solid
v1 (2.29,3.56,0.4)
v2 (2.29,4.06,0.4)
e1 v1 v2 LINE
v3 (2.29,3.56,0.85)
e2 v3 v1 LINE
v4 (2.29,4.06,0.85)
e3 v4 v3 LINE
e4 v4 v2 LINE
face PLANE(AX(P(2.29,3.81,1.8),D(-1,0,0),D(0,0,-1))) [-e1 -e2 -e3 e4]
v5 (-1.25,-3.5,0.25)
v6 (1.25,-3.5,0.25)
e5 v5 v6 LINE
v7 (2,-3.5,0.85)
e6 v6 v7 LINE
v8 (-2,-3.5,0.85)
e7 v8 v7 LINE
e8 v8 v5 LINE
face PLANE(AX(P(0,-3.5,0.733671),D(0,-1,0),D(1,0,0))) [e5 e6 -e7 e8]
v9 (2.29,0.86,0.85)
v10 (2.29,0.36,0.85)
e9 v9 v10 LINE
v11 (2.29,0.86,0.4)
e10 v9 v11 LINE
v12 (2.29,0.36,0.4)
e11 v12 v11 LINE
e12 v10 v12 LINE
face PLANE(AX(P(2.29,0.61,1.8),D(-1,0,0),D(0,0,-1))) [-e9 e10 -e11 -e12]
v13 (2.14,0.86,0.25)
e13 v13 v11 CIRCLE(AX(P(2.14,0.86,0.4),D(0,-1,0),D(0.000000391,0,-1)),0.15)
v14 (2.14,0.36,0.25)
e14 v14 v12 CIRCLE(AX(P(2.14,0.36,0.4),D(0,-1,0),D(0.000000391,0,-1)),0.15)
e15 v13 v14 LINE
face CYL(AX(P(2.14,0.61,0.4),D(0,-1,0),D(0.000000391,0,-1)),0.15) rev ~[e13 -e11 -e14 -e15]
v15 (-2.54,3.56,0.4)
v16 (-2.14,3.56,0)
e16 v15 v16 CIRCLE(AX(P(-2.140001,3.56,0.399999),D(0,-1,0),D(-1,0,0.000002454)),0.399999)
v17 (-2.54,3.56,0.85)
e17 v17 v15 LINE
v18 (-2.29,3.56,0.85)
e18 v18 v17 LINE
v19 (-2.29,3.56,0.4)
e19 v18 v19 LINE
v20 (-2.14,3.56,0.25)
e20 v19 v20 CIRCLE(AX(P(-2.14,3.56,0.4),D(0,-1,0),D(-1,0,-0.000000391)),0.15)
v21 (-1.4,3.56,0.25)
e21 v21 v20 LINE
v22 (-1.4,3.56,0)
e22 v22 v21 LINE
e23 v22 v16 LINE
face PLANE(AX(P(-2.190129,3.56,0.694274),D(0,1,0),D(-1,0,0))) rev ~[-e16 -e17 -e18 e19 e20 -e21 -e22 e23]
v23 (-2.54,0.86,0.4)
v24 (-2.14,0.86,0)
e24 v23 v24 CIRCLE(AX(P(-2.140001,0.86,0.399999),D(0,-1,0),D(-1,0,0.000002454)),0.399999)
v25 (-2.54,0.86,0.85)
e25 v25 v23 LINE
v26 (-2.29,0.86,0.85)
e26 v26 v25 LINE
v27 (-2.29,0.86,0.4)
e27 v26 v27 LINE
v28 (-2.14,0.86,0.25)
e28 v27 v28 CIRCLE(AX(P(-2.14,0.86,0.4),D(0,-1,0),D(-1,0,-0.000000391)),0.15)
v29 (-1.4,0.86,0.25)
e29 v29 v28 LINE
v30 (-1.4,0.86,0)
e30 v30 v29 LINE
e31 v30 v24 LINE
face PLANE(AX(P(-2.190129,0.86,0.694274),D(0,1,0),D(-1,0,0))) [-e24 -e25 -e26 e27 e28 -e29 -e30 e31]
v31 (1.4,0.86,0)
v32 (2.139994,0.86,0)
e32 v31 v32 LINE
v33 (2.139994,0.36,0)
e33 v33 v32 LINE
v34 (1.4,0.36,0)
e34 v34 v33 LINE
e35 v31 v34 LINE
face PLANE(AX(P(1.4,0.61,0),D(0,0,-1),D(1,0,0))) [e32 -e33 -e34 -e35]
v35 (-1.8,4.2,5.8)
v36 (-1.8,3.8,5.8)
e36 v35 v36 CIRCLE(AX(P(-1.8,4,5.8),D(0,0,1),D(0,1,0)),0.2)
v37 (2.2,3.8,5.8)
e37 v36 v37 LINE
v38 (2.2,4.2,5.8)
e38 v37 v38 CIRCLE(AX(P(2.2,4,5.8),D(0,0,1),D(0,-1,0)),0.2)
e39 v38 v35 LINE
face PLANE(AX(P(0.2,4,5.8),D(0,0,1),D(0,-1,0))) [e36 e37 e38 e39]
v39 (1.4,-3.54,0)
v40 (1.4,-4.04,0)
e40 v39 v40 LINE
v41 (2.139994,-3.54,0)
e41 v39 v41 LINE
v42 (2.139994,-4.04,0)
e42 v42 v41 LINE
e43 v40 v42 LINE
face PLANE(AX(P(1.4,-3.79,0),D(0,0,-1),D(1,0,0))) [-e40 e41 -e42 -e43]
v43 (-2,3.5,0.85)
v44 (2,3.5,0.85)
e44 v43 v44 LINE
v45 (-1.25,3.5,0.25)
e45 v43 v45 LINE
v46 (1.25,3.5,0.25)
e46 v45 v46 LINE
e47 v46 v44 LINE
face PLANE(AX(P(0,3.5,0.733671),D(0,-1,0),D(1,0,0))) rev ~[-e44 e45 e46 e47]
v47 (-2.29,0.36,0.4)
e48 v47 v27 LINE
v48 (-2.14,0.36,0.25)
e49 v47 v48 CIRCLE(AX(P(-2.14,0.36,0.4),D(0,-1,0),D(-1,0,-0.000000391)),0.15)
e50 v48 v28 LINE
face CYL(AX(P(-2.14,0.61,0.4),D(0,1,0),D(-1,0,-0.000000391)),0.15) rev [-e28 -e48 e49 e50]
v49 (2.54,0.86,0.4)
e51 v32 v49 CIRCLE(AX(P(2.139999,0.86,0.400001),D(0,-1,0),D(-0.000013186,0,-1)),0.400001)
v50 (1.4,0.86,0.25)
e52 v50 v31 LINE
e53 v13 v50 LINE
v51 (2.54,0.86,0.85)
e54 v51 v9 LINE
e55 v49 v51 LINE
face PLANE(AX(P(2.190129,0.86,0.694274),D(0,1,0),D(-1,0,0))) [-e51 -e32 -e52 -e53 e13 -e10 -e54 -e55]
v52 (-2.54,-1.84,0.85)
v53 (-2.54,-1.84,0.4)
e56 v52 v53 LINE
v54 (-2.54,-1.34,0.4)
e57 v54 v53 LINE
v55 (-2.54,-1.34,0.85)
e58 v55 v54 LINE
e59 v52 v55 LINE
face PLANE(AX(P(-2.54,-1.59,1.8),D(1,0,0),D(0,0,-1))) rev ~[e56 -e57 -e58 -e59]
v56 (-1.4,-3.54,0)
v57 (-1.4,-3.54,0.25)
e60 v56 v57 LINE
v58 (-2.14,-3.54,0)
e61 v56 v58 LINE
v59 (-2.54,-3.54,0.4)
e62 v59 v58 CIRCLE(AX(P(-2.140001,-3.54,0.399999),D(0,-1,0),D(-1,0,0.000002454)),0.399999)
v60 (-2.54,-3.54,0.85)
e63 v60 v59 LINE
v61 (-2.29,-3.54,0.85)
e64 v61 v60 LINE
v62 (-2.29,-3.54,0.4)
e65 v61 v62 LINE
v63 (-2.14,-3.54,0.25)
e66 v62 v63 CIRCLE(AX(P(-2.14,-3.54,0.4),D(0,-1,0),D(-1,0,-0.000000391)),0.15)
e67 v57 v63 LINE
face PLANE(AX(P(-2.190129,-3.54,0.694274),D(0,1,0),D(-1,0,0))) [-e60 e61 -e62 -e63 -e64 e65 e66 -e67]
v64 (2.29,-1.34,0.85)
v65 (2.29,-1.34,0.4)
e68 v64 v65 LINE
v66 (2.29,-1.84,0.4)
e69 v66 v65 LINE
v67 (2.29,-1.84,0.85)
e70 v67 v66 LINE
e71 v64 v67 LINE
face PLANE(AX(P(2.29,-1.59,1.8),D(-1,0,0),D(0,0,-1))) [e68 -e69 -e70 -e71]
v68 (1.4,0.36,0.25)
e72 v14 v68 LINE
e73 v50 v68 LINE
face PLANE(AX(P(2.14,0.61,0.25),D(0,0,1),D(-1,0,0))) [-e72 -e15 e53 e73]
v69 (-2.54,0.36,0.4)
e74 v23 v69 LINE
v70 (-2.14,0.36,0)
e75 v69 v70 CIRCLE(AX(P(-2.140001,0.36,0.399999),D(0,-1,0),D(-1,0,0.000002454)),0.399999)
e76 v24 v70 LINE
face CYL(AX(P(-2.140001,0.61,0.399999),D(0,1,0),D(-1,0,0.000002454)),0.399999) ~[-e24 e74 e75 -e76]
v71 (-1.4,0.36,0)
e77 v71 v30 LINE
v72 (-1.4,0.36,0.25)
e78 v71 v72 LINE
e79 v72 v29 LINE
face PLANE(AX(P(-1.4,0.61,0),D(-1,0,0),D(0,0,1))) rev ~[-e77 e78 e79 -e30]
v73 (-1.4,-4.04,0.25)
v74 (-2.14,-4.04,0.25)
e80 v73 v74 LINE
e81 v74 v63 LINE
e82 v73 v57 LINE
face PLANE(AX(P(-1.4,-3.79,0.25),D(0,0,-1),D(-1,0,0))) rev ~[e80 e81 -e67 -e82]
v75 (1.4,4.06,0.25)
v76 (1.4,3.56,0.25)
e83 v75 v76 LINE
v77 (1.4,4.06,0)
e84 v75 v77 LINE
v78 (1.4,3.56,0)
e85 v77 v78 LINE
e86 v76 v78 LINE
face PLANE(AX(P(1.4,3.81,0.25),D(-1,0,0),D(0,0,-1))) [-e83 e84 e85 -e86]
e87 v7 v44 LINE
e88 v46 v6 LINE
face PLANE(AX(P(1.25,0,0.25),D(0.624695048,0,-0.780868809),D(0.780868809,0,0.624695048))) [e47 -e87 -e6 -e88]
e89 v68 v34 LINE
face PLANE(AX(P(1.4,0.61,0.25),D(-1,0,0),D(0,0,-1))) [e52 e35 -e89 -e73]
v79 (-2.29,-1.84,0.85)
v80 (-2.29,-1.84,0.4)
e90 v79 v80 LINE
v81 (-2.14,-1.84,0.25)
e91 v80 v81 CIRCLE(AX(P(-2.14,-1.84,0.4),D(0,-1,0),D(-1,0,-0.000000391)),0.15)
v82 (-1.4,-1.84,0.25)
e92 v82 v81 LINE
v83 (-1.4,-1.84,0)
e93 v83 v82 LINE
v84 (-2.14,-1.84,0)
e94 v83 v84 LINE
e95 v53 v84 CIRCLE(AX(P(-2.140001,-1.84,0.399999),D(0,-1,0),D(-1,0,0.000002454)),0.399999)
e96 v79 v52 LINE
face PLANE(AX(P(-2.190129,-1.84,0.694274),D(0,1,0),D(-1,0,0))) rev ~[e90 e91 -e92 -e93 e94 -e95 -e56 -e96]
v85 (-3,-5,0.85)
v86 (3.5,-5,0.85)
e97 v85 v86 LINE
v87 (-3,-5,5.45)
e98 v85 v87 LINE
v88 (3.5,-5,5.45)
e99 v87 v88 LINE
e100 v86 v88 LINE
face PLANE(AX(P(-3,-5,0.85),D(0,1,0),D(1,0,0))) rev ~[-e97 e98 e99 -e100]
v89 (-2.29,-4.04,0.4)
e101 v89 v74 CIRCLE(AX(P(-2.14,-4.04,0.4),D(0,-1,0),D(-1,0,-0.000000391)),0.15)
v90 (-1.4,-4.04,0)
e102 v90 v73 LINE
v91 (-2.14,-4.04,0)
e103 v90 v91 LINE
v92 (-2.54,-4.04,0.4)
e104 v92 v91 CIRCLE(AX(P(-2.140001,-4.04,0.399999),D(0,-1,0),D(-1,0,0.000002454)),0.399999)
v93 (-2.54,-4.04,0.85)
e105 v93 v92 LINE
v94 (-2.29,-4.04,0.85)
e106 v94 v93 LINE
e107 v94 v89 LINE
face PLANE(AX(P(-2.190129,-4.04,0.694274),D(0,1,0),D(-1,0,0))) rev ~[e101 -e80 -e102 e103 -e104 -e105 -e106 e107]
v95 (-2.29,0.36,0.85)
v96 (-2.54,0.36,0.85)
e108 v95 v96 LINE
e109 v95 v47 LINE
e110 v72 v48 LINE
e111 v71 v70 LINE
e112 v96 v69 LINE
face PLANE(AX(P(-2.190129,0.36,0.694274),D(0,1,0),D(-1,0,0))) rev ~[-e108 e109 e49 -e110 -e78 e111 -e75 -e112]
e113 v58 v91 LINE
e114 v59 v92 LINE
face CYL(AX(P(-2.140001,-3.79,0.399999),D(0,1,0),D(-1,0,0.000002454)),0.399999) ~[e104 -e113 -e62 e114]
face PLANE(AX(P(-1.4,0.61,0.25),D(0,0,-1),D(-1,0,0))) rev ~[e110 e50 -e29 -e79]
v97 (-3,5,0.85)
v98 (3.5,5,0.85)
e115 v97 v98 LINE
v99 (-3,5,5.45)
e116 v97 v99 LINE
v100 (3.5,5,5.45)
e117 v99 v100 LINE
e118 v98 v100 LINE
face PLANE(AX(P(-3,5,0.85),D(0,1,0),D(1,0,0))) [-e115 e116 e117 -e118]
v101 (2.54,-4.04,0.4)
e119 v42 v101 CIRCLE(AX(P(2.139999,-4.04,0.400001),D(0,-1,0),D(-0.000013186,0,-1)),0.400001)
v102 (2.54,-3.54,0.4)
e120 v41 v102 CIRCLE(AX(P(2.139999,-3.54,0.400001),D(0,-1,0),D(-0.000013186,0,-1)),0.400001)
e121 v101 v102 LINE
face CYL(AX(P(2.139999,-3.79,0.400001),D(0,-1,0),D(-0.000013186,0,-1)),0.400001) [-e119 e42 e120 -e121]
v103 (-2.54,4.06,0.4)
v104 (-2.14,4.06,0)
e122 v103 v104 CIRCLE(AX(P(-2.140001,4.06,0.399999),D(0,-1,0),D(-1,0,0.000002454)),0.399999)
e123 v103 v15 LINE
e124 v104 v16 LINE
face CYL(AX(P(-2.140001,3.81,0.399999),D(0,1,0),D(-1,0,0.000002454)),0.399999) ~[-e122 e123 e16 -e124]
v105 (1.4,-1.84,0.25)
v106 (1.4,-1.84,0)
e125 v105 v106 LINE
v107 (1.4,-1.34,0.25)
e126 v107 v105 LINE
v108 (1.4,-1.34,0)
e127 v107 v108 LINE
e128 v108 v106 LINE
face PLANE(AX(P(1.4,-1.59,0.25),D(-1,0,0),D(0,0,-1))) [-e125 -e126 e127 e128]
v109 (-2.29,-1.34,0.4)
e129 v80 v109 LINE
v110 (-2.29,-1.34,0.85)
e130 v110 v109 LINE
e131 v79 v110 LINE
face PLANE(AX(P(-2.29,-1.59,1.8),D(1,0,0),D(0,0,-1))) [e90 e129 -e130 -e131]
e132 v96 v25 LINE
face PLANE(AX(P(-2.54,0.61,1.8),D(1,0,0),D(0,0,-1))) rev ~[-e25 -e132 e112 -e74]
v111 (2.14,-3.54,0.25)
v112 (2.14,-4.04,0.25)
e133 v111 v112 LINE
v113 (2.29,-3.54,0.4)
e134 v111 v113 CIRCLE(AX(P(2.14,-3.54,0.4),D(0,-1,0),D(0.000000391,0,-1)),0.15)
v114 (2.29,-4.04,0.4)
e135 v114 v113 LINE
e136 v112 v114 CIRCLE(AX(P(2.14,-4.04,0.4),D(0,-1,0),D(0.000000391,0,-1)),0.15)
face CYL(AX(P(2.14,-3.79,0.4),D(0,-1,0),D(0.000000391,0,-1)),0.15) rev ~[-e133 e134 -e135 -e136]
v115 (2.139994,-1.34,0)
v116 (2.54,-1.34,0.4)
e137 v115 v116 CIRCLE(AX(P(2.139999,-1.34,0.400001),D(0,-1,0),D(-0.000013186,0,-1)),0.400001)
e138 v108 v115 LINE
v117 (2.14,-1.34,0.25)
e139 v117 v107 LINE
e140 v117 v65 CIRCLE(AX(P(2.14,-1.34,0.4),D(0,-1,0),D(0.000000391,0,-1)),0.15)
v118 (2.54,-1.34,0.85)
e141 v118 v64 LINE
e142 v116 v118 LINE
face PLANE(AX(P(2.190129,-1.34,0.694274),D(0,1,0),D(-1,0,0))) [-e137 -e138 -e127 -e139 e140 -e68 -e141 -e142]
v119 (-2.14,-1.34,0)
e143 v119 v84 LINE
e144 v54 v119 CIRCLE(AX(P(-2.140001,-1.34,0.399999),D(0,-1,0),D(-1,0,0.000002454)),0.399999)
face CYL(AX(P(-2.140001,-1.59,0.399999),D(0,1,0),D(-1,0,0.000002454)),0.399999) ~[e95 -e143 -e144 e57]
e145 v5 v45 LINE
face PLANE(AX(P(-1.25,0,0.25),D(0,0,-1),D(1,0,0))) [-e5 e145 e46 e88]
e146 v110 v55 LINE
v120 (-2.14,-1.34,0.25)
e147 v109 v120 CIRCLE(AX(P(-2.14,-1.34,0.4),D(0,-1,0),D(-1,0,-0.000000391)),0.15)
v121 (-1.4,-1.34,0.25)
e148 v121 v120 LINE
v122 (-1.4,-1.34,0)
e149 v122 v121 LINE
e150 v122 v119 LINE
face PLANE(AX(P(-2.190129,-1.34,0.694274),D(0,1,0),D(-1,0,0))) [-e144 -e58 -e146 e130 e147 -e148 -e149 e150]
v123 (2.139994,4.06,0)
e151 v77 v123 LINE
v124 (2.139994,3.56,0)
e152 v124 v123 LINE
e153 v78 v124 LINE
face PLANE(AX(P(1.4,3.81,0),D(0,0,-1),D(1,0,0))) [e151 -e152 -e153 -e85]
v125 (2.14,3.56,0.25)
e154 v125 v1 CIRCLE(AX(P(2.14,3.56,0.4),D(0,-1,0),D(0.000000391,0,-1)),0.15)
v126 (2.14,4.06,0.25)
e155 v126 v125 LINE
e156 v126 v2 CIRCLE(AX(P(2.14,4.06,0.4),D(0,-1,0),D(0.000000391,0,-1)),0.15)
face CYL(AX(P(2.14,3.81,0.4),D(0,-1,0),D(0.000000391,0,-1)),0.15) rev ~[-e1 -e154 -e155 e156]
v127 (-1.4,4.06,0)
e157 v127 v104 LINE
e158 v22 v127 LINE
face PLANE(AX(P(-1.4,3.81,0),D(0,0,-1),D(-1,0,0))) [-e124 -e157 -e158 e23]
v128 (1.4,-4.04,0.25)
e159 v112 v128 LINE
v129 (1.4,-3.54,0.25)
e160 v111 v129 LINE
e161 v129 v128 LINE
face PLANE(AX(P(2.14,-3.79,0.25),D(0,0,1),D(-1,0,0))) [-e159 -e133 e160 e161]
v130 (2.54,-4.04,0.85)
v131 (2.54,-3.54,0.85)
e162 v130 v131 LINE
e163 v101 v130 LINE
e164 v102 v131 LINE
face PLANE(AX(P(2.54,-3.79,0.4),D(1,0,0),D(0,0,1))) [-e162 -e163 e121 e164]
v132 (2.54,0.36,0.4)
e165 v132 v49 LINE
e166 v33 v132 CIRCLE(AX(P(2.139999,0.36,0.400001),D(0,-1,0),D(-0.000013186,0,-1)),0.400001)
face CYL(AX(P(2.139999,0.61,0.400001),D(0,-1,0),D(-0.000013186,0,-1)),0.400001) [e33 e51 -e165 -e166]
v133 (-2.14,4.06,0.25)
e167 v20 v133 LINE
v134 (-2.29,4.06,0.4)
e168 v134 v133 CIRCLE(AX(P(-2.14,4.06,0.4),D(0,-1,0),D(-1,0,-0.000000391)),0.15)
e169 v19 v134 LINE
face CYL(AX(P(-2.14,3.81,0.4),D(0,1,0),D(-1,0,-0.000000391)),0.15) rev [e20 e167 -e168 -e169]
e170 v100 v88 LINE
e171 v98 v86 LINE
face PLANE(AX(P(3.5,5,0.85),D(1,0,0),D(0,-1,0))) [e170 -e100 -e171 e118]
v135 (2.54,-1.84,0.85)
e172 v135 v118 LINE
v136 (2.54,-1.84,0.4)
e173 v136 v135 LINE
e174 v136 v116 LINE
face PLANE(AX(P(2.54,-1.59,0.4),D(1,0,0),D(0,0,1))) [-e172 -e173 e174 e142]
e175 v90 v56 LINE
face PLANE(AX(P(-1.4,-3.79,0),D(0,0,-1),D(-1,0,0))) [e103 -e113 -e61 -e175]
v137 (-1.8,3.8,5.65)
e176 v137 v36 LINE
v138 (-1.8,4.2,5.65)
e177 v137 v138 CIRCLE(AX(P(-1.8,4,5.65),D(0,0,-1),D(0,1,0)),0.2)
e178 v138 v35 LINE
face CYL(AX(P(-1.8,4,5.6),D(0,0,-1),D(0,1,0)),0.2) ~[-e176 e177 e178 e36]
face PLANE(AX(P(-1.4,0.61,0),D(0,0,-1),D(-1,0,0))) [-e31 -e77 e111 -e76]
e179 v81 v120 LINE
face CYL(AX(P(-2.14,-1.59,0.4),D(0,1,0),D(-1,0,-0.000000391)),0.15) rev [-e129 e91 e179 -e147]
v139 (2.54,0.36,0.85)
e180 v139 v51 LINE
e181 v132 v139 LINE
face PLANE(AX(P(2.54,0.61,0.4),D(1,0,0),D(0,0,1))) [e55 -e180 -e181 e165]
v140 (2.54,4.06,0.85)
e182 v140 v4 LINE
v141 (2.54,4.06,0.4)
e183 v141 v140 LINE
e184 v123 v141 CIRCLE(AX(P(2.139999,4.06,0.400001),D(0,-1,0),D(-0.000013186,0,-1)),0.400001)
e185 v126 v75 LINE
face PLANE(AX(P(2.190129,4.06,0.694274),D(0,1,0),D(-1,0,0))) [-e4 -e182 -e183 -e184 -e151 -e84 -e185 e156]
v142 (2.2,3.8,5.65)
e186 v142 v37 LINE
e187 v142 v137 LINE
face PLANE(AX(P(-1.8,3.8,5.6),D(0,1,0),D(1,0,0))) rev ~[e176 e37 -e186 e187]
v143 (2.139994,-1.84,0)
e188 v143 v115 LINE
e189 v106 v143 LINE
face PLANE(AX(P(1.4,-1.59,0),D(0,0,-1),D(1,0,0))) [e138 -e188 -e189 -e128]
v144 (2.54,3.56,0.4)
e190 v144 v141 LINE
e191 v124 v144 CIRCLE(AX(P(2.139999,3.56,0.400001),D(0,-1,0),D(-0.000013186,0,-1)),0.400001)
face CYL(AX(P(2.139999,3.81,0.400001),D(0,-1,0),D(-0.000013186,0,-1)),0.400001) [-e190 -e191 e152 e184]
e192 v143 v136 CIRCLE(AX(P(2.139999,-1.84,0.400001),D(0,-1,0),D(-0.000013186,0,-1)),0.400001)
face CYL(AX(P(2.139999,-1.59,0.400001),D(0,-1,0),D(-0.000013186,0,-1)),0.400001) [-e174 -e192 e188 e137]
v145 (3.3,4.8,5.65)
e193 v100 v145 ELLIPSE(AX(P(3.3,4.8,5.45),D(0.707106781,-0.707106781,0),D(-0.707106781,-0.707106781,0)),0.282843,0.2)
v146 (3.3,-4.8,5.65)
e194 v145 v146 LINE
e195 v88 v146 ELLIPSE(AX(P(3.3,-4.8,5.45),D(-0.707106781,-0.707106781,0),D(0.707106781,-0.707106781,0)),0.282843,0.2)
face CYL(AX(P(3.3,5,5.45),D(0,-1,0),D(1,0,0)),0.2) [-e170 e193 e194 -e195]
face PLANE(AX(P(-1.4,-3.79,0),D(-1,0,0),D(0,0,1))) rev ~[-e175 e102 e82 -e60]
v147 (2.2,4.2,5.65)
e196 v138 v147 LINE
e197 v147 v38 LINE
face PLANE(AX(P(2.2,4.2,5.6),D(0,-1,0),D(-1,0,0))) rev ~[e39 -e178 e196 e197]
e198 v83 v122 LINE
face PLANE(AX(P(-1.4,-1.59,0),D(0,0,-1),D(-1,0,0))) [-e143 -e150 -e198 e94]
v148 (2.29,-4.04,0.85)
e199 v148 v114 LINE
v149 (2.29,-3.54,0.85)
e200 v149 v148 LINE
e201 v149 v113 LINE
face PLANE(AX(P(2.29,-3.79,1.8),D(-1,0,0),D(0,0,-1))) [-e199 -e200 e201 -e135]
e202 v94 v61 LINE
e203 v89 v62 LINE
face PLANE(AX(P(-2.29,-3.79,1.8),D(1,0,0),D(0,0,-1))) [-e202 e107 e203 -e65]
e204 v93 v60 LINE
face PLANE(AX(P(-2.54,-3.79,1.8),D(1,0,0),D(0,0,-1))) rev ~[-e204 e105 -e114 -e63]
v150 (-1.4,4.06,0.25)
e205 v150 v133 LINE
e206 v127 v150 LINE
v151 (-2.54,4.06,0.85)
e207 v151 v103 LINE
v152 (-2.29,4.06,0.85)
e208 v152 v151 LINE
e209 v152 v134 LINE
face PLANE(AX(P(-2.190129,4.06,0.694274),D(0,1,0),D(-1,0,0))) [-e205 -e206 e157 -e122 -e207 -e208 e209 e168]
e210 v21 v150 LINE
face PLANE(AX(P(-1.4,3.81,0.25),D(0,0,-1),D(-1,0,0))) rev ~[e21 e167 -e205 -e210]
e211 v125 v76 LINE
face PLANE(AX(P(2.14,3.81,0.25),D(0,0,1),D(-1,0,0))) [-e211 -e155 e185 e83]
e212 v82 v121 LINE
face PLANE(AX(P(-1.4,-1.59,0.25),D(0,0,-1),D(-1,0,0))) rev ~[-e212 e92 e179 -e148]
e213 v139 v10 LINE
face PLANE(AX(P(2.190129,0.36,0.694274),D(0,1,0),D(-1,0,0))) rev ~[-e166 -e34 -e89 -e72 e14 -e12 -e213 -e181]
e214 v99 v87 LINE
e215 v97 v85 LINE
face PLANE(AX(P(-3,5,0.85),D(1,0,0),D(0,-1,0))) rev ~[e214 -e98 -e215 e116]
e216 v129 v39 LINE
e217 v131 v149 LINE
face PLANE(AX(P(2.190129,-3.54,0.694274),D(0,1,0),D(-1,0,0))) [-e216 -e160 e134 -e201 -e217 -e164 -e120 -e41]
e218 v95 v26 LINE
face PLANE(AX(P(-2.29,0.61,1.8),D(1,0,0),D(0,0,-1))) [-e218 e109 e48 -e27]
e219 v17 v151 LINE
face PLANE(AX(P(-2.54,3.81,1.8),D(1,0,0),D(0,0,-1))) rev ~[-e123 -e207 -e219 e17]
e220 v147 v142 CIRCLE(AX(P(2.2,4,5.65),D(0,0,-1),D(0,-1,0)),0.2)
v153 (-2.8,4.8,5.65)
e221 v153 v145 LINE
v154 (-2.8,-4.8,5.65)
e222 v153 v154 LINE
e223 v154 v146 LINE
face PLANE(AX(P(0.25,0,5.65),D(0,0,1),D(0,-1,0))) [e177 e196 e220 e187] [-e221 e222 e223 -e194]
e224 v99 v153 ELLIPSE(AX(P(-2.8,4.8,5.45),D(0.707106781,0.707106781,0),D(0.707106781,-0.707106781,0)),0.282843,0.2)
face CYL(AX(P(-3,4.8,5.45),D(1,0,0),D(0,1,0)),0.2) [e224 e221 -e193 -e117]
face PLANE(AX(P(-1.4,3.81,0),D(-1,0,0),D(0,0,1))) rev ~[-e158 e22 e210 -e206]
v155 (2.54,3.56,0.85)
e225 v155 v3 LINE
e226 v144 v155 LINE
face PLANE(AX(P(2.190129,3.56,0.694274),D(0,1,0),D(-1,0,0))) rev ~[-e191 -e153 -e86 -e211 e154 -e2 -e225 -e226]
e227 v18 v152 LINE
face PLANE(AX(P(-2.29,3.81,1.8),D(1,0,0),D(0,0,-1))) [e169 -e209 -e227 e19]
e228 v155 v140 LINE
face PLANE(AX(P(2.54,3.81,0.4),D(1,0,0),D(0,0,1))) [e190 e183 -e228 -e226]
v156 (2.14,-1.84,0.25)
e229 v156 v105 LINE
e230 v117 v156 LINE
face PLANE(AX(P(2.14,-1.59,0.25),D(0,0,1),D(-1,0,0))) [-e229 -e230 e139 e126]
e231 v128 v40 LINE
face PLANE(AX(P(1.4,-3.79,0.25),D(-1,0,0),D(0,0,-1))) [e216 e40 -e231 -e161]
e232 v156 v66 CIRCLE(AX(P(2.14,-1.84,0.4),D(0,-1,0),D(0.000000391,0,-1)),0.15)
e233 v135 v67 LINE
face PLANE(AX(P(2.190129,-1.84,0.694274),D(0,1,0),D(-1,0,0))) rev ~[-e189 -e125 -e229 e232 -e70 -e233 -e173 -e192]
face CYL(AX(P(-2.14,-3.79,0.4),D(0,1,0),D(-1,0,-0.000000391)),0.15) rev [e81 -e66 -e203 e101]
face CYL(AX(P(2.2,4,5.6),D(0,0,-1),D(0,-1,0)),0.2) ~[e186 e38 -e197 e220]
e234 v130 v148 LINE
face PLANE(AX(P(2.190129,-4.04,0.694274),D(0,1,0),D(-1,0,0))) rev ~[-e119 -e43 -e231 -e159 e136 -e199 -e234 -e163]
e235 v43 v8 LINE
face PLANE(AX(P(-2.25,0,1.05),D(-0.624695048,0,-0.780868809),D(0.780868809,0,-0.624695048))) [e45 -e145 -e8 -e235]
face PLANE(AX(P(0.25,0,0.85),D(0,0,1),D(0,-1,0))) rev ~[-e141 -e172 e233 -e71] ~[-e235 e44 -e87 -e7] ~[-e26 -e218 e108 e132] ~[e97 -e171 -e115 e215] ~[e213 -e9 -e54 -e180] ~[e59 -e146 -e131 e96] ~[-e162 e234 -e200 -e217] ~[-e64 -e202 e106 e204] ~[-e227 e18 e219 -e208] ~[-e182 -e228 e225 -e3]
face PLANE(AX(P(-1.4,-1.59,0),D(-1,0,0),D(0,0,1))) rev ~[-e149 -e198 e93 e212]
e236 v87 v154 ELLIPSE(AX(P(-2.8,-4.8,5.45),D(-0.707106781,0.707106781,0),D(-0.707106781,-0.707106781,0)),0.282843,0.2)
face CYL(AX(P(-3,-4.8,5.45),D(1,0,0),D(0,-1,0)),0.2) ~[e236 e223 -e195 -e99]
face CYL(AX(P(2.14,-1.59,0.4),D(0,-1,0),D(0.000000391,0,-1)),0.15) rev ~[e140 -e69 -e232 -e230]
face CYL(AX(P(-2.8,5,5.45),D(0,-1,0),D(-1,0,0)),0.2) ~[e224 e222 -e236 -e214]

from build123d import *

# Parameters (mm, degrees)
PAD010_DEPTH = 0.25
PAD012_DEPTH = 0.25
PAD007_DEPTH = 3.5
PAD013_DEPTH = 0.25
PAD011_DEPTH = 0.25
PAD014_DEPTH = 0.2
SKETCH_W     = 10
SKETCH_H     = 6.5
PAD_DEPTH    = 4.8
FILLET_R     = 0.2


with BuildPart() as pad010:
    # Sketch011 → Pad010 (new body, symmetric)
    with BuildSketch(Plane.XZ.offset(1.59)):
        with BuildLine():
            Line((-2.54, 1.8), (-2.29, 1.8))
            Line((-2.29, 1.8), (-2.29, 0.4))
            ThreePointArc((-2.29, 0.4), (-2.246066, 0.293934), (-2.14, 0.25))
            Line((-1.4, 0.25), (-2.14, 0.25))
            Line((-1.4, 0), (-1.4, 0.25))
            Line((-1.4, 0), (-2.14, 0))
            ThreePointArc((-2.54, 0.4), (-2.422843, 0.117157), (-2.14, 0))
            Line((-2.54, 1.8), (-2.54, 0.4))
        make_face()
        with BuildLine():
            ThreePointArc((2.14, 0.25), (2.246066, 0.293934), (2.29, 0.4))
            Line((2.29, 1.8), (2.29, 0.4))
            Line((2.54, 1.8), (2.29, 1.8))
            Line((2.54, 0.4), (2.54, 1.8))
            ThreePointArc((2.139994, 0), (2.42284, 0.117155), (2.54, 0.4))
            Line((1.4, 0), (2.139994, 0))
            Line((1.4, 0.25), (1.4, 0))
            Line((2.14, 0.25), (1.4, 0.25))
        make_face()
    extrude(amount=PAD010_DEPTH, both=True)


with BuildPart() as pad012:
    # Sketch013 → Pad012 (new body, symmetric)
    with BuildSketch(Plane.XZ.offset(3.79)):
        with BuildLine():
            Line((-2.54, 1.8), (-2.29, 1.8))
            Line((-2.29, 1.8), (-2.29, 0.4))
            ThreePointArc((-2.29, 0.4), (-2.246066, 0.293934), (-2.14, 0.25))
            Line((-1.4, 0.25), (-2.14, 0.25))
            Line((-1.4, 0), (-1.4, 0.25))
            Line((-1.4, 0), (-2.14, 0))
            ThreePointArc((-2.54, 0.4), (-2.422843, 0.117157), (-2.14, 0))
            Line((-2.54, 1.8), (-2.54, 0.4))
        make_face()
        with BuildLine():
            ThreePointArc((2.14, 0.25), (2.246066, 0.293934), (2.29, 0.4))
            Line((2.29, 1.8), (2.29, 0.4))
            Line((2.54, 1.8), (2.29, 1.8))
            Line((2.54, 0.4), (2.54, 1.8))
            ThreePointArc((2.139994, 0), (2.42284, 0.117155), (2.54, 0.4))
            Line((1.4, 0), (2.139994, 0))
            Line((1.4, 0.25), (1.4, 0))
            Line((2.14, 0.25), (1.4, 0.25))
        make_face()
    extrude(amount=PAD012_DEPTH, both=True)


with BuildPart() as pad007:
    # Sketch009 → Pad007 (new body, symmetric)
    with BuildSketch(Plane.XZ):
        Polygon((-1.25, 0.25), (1.25, 0.25), (2.25, 1.05), (-2.25, 1.05), align=None)
    extrude(amount=PAD007_DEPTH, both=True)


with BuildPart() as pad013:
    # Sketch014 → Pad013 (new body, symmetric)
    with BuildSketch(Plane.XZ.offset(-0.61)):
        with BuildLine():
            Line((-2.54, 1.8), (-2.29, 1.8))
            Line((-2.29, 1.8), (-2.29, 0.4))
            ThreePointArc((-2.29, 0.4), (-2.246066, 0.293934), (-2.14, 0.25))
            Line((-1.4, 0.25), (-2.14, 0.25))
            Line((-1.4, 0), (-1.4, 0.25))
            Line((-1.4, 0), (-2.14, 0))
            ThreePointArc((-2.54, 0.4), (-2.422843, 0.117157), (-2.14, 0))
            Line((-2.54, 1.8), (-2.54, 0.4))
        make_face()
        with BuildLine():
            ThreePointArc((2.14, 0.25), (2.246066, 0.293934), (2.29, 0.4))
            Line((2.29, 1.8), (2.29, 0.4))
            Line((2.54, 1.8), (2.29, 1.8))
            Line((2.54, 0.4), (2.54, 1.8))
            ThreePointArc((2.139994, 0), (2.42284, 0.117155), (2.54, 0.4))
            Line((1.4, 0), (2.139994, 0))
            Line((1.4, 0.25), (1.4, 0))
            Line((2.14, 0.25), (1.4, 0.25))
        make_face()
    extrude(amount=PAD013_DEPTH, both=True)


with BuildPart() as pad011:
    # Sketch012 → Pad011 (new body, symmetric)
    with BuildSketch(Plane.XZ.offset(-3.81)):
        with BuildLine():
            Line((-2.54, 1.8), (-2.29, 1.8))
            Line((-2.29, 1.8), (-2.29, 0.4))
            ThreePointArc((-2.29, 0.4), (-2.246066, 0.293934), (-2.14, 0.25))
            Line((-1.4, 0.25), (-2.14, 0.25))
            Line((-1.4, 0), (-1.4, 0.25))
            Line((-1.4, 0), (-2.14, 0))
            ThreePointArc((-2.54, 0.4), (-2.422843, 0.117157), (-2.14, 0))
            Line((-2.54, 1.8), (-2.54, 0.4))
        make_face()
        with BuildLine():
            ThreePointArc((2.14, 0.25), (2.246066, 0.293934), (2.29, 0.4))
            Line((2.29, 1.8), (2.29, 0.4))
            Line((2.54, 1.8), (2.29, 1.8))
            Line((2.54, 0.4), (2.54, 1.8))
            ThreePointArc((2.139994, 0), (2.42284, 0.117155), (2.54, 0.4))
            Line((1.4, 0), (2.139994, 0))
            Line((1.4, 0.25), (1.4, 0))
            Line((2.14, 0.25), (1.4, 0.25))
        make_face()
    extrude(amount=PAD011_DEPTH, both=True)


with BuildPart() as pad014:
    # Sketch001 → Pad014 (new body)
    with BuildSketch(Plane(origin=(0, 0, 5.6), x_dir=(0, -1, 0), z_dir=(0, 0, 1))):
        with BuildLine():
            Line((-3.8, -1.8), (-3.8, 2.2))
            ThreePointArc((-3.8, 2.2), (-4, 2.4), (-4.2, 2.2))
            Line((-4.2, 2.2), (-4.2, -1.8))
            ThreePointArc((-4.2, -1.8), (-4, -2), (-3.8, -1.8))
        make_face()
    extrude(amount=PAD014_DEPTH)


with BuildPart() as relay_dpdt_axicom_imseries_jleg:
    # Sketch → Pad (new body)
    with BuildSketch(Plane(origin=(0, 0, 0.85), x_dir=(0, -1, 0), z_dir=(0, 0, 1))):
        with Locations((0, 0.25)):
            Rectangle(SKETCH_W, SKETCH_H)
    extrude(amount=PAD_DEPTH)

    # Fillet
    fillet_edges = [relay_dpdt_axicom_imseries_jleg.edges().sort_by_distance(p)[0] for p in [
        (-3, 0, 5.65),
        (0.25, -5, 5.65),
        (3.5, 0, 5.65),
        (0.25, 5, 5.65),
    ]]
    fillet(fillet_edges, radius=FILLET_R)

    # Pad008_mp_cp: union Pad010, Pad012, Pad007, Pad013, Pad011, Pad014
    add(pad010.part)
    add(pad012.part)
    add(pad007.part)
    add(pad013.part)
    add(pad011.part)
    add(pad014.part)


solid = relay_dpdt_axicom_imseries_jleg.part
